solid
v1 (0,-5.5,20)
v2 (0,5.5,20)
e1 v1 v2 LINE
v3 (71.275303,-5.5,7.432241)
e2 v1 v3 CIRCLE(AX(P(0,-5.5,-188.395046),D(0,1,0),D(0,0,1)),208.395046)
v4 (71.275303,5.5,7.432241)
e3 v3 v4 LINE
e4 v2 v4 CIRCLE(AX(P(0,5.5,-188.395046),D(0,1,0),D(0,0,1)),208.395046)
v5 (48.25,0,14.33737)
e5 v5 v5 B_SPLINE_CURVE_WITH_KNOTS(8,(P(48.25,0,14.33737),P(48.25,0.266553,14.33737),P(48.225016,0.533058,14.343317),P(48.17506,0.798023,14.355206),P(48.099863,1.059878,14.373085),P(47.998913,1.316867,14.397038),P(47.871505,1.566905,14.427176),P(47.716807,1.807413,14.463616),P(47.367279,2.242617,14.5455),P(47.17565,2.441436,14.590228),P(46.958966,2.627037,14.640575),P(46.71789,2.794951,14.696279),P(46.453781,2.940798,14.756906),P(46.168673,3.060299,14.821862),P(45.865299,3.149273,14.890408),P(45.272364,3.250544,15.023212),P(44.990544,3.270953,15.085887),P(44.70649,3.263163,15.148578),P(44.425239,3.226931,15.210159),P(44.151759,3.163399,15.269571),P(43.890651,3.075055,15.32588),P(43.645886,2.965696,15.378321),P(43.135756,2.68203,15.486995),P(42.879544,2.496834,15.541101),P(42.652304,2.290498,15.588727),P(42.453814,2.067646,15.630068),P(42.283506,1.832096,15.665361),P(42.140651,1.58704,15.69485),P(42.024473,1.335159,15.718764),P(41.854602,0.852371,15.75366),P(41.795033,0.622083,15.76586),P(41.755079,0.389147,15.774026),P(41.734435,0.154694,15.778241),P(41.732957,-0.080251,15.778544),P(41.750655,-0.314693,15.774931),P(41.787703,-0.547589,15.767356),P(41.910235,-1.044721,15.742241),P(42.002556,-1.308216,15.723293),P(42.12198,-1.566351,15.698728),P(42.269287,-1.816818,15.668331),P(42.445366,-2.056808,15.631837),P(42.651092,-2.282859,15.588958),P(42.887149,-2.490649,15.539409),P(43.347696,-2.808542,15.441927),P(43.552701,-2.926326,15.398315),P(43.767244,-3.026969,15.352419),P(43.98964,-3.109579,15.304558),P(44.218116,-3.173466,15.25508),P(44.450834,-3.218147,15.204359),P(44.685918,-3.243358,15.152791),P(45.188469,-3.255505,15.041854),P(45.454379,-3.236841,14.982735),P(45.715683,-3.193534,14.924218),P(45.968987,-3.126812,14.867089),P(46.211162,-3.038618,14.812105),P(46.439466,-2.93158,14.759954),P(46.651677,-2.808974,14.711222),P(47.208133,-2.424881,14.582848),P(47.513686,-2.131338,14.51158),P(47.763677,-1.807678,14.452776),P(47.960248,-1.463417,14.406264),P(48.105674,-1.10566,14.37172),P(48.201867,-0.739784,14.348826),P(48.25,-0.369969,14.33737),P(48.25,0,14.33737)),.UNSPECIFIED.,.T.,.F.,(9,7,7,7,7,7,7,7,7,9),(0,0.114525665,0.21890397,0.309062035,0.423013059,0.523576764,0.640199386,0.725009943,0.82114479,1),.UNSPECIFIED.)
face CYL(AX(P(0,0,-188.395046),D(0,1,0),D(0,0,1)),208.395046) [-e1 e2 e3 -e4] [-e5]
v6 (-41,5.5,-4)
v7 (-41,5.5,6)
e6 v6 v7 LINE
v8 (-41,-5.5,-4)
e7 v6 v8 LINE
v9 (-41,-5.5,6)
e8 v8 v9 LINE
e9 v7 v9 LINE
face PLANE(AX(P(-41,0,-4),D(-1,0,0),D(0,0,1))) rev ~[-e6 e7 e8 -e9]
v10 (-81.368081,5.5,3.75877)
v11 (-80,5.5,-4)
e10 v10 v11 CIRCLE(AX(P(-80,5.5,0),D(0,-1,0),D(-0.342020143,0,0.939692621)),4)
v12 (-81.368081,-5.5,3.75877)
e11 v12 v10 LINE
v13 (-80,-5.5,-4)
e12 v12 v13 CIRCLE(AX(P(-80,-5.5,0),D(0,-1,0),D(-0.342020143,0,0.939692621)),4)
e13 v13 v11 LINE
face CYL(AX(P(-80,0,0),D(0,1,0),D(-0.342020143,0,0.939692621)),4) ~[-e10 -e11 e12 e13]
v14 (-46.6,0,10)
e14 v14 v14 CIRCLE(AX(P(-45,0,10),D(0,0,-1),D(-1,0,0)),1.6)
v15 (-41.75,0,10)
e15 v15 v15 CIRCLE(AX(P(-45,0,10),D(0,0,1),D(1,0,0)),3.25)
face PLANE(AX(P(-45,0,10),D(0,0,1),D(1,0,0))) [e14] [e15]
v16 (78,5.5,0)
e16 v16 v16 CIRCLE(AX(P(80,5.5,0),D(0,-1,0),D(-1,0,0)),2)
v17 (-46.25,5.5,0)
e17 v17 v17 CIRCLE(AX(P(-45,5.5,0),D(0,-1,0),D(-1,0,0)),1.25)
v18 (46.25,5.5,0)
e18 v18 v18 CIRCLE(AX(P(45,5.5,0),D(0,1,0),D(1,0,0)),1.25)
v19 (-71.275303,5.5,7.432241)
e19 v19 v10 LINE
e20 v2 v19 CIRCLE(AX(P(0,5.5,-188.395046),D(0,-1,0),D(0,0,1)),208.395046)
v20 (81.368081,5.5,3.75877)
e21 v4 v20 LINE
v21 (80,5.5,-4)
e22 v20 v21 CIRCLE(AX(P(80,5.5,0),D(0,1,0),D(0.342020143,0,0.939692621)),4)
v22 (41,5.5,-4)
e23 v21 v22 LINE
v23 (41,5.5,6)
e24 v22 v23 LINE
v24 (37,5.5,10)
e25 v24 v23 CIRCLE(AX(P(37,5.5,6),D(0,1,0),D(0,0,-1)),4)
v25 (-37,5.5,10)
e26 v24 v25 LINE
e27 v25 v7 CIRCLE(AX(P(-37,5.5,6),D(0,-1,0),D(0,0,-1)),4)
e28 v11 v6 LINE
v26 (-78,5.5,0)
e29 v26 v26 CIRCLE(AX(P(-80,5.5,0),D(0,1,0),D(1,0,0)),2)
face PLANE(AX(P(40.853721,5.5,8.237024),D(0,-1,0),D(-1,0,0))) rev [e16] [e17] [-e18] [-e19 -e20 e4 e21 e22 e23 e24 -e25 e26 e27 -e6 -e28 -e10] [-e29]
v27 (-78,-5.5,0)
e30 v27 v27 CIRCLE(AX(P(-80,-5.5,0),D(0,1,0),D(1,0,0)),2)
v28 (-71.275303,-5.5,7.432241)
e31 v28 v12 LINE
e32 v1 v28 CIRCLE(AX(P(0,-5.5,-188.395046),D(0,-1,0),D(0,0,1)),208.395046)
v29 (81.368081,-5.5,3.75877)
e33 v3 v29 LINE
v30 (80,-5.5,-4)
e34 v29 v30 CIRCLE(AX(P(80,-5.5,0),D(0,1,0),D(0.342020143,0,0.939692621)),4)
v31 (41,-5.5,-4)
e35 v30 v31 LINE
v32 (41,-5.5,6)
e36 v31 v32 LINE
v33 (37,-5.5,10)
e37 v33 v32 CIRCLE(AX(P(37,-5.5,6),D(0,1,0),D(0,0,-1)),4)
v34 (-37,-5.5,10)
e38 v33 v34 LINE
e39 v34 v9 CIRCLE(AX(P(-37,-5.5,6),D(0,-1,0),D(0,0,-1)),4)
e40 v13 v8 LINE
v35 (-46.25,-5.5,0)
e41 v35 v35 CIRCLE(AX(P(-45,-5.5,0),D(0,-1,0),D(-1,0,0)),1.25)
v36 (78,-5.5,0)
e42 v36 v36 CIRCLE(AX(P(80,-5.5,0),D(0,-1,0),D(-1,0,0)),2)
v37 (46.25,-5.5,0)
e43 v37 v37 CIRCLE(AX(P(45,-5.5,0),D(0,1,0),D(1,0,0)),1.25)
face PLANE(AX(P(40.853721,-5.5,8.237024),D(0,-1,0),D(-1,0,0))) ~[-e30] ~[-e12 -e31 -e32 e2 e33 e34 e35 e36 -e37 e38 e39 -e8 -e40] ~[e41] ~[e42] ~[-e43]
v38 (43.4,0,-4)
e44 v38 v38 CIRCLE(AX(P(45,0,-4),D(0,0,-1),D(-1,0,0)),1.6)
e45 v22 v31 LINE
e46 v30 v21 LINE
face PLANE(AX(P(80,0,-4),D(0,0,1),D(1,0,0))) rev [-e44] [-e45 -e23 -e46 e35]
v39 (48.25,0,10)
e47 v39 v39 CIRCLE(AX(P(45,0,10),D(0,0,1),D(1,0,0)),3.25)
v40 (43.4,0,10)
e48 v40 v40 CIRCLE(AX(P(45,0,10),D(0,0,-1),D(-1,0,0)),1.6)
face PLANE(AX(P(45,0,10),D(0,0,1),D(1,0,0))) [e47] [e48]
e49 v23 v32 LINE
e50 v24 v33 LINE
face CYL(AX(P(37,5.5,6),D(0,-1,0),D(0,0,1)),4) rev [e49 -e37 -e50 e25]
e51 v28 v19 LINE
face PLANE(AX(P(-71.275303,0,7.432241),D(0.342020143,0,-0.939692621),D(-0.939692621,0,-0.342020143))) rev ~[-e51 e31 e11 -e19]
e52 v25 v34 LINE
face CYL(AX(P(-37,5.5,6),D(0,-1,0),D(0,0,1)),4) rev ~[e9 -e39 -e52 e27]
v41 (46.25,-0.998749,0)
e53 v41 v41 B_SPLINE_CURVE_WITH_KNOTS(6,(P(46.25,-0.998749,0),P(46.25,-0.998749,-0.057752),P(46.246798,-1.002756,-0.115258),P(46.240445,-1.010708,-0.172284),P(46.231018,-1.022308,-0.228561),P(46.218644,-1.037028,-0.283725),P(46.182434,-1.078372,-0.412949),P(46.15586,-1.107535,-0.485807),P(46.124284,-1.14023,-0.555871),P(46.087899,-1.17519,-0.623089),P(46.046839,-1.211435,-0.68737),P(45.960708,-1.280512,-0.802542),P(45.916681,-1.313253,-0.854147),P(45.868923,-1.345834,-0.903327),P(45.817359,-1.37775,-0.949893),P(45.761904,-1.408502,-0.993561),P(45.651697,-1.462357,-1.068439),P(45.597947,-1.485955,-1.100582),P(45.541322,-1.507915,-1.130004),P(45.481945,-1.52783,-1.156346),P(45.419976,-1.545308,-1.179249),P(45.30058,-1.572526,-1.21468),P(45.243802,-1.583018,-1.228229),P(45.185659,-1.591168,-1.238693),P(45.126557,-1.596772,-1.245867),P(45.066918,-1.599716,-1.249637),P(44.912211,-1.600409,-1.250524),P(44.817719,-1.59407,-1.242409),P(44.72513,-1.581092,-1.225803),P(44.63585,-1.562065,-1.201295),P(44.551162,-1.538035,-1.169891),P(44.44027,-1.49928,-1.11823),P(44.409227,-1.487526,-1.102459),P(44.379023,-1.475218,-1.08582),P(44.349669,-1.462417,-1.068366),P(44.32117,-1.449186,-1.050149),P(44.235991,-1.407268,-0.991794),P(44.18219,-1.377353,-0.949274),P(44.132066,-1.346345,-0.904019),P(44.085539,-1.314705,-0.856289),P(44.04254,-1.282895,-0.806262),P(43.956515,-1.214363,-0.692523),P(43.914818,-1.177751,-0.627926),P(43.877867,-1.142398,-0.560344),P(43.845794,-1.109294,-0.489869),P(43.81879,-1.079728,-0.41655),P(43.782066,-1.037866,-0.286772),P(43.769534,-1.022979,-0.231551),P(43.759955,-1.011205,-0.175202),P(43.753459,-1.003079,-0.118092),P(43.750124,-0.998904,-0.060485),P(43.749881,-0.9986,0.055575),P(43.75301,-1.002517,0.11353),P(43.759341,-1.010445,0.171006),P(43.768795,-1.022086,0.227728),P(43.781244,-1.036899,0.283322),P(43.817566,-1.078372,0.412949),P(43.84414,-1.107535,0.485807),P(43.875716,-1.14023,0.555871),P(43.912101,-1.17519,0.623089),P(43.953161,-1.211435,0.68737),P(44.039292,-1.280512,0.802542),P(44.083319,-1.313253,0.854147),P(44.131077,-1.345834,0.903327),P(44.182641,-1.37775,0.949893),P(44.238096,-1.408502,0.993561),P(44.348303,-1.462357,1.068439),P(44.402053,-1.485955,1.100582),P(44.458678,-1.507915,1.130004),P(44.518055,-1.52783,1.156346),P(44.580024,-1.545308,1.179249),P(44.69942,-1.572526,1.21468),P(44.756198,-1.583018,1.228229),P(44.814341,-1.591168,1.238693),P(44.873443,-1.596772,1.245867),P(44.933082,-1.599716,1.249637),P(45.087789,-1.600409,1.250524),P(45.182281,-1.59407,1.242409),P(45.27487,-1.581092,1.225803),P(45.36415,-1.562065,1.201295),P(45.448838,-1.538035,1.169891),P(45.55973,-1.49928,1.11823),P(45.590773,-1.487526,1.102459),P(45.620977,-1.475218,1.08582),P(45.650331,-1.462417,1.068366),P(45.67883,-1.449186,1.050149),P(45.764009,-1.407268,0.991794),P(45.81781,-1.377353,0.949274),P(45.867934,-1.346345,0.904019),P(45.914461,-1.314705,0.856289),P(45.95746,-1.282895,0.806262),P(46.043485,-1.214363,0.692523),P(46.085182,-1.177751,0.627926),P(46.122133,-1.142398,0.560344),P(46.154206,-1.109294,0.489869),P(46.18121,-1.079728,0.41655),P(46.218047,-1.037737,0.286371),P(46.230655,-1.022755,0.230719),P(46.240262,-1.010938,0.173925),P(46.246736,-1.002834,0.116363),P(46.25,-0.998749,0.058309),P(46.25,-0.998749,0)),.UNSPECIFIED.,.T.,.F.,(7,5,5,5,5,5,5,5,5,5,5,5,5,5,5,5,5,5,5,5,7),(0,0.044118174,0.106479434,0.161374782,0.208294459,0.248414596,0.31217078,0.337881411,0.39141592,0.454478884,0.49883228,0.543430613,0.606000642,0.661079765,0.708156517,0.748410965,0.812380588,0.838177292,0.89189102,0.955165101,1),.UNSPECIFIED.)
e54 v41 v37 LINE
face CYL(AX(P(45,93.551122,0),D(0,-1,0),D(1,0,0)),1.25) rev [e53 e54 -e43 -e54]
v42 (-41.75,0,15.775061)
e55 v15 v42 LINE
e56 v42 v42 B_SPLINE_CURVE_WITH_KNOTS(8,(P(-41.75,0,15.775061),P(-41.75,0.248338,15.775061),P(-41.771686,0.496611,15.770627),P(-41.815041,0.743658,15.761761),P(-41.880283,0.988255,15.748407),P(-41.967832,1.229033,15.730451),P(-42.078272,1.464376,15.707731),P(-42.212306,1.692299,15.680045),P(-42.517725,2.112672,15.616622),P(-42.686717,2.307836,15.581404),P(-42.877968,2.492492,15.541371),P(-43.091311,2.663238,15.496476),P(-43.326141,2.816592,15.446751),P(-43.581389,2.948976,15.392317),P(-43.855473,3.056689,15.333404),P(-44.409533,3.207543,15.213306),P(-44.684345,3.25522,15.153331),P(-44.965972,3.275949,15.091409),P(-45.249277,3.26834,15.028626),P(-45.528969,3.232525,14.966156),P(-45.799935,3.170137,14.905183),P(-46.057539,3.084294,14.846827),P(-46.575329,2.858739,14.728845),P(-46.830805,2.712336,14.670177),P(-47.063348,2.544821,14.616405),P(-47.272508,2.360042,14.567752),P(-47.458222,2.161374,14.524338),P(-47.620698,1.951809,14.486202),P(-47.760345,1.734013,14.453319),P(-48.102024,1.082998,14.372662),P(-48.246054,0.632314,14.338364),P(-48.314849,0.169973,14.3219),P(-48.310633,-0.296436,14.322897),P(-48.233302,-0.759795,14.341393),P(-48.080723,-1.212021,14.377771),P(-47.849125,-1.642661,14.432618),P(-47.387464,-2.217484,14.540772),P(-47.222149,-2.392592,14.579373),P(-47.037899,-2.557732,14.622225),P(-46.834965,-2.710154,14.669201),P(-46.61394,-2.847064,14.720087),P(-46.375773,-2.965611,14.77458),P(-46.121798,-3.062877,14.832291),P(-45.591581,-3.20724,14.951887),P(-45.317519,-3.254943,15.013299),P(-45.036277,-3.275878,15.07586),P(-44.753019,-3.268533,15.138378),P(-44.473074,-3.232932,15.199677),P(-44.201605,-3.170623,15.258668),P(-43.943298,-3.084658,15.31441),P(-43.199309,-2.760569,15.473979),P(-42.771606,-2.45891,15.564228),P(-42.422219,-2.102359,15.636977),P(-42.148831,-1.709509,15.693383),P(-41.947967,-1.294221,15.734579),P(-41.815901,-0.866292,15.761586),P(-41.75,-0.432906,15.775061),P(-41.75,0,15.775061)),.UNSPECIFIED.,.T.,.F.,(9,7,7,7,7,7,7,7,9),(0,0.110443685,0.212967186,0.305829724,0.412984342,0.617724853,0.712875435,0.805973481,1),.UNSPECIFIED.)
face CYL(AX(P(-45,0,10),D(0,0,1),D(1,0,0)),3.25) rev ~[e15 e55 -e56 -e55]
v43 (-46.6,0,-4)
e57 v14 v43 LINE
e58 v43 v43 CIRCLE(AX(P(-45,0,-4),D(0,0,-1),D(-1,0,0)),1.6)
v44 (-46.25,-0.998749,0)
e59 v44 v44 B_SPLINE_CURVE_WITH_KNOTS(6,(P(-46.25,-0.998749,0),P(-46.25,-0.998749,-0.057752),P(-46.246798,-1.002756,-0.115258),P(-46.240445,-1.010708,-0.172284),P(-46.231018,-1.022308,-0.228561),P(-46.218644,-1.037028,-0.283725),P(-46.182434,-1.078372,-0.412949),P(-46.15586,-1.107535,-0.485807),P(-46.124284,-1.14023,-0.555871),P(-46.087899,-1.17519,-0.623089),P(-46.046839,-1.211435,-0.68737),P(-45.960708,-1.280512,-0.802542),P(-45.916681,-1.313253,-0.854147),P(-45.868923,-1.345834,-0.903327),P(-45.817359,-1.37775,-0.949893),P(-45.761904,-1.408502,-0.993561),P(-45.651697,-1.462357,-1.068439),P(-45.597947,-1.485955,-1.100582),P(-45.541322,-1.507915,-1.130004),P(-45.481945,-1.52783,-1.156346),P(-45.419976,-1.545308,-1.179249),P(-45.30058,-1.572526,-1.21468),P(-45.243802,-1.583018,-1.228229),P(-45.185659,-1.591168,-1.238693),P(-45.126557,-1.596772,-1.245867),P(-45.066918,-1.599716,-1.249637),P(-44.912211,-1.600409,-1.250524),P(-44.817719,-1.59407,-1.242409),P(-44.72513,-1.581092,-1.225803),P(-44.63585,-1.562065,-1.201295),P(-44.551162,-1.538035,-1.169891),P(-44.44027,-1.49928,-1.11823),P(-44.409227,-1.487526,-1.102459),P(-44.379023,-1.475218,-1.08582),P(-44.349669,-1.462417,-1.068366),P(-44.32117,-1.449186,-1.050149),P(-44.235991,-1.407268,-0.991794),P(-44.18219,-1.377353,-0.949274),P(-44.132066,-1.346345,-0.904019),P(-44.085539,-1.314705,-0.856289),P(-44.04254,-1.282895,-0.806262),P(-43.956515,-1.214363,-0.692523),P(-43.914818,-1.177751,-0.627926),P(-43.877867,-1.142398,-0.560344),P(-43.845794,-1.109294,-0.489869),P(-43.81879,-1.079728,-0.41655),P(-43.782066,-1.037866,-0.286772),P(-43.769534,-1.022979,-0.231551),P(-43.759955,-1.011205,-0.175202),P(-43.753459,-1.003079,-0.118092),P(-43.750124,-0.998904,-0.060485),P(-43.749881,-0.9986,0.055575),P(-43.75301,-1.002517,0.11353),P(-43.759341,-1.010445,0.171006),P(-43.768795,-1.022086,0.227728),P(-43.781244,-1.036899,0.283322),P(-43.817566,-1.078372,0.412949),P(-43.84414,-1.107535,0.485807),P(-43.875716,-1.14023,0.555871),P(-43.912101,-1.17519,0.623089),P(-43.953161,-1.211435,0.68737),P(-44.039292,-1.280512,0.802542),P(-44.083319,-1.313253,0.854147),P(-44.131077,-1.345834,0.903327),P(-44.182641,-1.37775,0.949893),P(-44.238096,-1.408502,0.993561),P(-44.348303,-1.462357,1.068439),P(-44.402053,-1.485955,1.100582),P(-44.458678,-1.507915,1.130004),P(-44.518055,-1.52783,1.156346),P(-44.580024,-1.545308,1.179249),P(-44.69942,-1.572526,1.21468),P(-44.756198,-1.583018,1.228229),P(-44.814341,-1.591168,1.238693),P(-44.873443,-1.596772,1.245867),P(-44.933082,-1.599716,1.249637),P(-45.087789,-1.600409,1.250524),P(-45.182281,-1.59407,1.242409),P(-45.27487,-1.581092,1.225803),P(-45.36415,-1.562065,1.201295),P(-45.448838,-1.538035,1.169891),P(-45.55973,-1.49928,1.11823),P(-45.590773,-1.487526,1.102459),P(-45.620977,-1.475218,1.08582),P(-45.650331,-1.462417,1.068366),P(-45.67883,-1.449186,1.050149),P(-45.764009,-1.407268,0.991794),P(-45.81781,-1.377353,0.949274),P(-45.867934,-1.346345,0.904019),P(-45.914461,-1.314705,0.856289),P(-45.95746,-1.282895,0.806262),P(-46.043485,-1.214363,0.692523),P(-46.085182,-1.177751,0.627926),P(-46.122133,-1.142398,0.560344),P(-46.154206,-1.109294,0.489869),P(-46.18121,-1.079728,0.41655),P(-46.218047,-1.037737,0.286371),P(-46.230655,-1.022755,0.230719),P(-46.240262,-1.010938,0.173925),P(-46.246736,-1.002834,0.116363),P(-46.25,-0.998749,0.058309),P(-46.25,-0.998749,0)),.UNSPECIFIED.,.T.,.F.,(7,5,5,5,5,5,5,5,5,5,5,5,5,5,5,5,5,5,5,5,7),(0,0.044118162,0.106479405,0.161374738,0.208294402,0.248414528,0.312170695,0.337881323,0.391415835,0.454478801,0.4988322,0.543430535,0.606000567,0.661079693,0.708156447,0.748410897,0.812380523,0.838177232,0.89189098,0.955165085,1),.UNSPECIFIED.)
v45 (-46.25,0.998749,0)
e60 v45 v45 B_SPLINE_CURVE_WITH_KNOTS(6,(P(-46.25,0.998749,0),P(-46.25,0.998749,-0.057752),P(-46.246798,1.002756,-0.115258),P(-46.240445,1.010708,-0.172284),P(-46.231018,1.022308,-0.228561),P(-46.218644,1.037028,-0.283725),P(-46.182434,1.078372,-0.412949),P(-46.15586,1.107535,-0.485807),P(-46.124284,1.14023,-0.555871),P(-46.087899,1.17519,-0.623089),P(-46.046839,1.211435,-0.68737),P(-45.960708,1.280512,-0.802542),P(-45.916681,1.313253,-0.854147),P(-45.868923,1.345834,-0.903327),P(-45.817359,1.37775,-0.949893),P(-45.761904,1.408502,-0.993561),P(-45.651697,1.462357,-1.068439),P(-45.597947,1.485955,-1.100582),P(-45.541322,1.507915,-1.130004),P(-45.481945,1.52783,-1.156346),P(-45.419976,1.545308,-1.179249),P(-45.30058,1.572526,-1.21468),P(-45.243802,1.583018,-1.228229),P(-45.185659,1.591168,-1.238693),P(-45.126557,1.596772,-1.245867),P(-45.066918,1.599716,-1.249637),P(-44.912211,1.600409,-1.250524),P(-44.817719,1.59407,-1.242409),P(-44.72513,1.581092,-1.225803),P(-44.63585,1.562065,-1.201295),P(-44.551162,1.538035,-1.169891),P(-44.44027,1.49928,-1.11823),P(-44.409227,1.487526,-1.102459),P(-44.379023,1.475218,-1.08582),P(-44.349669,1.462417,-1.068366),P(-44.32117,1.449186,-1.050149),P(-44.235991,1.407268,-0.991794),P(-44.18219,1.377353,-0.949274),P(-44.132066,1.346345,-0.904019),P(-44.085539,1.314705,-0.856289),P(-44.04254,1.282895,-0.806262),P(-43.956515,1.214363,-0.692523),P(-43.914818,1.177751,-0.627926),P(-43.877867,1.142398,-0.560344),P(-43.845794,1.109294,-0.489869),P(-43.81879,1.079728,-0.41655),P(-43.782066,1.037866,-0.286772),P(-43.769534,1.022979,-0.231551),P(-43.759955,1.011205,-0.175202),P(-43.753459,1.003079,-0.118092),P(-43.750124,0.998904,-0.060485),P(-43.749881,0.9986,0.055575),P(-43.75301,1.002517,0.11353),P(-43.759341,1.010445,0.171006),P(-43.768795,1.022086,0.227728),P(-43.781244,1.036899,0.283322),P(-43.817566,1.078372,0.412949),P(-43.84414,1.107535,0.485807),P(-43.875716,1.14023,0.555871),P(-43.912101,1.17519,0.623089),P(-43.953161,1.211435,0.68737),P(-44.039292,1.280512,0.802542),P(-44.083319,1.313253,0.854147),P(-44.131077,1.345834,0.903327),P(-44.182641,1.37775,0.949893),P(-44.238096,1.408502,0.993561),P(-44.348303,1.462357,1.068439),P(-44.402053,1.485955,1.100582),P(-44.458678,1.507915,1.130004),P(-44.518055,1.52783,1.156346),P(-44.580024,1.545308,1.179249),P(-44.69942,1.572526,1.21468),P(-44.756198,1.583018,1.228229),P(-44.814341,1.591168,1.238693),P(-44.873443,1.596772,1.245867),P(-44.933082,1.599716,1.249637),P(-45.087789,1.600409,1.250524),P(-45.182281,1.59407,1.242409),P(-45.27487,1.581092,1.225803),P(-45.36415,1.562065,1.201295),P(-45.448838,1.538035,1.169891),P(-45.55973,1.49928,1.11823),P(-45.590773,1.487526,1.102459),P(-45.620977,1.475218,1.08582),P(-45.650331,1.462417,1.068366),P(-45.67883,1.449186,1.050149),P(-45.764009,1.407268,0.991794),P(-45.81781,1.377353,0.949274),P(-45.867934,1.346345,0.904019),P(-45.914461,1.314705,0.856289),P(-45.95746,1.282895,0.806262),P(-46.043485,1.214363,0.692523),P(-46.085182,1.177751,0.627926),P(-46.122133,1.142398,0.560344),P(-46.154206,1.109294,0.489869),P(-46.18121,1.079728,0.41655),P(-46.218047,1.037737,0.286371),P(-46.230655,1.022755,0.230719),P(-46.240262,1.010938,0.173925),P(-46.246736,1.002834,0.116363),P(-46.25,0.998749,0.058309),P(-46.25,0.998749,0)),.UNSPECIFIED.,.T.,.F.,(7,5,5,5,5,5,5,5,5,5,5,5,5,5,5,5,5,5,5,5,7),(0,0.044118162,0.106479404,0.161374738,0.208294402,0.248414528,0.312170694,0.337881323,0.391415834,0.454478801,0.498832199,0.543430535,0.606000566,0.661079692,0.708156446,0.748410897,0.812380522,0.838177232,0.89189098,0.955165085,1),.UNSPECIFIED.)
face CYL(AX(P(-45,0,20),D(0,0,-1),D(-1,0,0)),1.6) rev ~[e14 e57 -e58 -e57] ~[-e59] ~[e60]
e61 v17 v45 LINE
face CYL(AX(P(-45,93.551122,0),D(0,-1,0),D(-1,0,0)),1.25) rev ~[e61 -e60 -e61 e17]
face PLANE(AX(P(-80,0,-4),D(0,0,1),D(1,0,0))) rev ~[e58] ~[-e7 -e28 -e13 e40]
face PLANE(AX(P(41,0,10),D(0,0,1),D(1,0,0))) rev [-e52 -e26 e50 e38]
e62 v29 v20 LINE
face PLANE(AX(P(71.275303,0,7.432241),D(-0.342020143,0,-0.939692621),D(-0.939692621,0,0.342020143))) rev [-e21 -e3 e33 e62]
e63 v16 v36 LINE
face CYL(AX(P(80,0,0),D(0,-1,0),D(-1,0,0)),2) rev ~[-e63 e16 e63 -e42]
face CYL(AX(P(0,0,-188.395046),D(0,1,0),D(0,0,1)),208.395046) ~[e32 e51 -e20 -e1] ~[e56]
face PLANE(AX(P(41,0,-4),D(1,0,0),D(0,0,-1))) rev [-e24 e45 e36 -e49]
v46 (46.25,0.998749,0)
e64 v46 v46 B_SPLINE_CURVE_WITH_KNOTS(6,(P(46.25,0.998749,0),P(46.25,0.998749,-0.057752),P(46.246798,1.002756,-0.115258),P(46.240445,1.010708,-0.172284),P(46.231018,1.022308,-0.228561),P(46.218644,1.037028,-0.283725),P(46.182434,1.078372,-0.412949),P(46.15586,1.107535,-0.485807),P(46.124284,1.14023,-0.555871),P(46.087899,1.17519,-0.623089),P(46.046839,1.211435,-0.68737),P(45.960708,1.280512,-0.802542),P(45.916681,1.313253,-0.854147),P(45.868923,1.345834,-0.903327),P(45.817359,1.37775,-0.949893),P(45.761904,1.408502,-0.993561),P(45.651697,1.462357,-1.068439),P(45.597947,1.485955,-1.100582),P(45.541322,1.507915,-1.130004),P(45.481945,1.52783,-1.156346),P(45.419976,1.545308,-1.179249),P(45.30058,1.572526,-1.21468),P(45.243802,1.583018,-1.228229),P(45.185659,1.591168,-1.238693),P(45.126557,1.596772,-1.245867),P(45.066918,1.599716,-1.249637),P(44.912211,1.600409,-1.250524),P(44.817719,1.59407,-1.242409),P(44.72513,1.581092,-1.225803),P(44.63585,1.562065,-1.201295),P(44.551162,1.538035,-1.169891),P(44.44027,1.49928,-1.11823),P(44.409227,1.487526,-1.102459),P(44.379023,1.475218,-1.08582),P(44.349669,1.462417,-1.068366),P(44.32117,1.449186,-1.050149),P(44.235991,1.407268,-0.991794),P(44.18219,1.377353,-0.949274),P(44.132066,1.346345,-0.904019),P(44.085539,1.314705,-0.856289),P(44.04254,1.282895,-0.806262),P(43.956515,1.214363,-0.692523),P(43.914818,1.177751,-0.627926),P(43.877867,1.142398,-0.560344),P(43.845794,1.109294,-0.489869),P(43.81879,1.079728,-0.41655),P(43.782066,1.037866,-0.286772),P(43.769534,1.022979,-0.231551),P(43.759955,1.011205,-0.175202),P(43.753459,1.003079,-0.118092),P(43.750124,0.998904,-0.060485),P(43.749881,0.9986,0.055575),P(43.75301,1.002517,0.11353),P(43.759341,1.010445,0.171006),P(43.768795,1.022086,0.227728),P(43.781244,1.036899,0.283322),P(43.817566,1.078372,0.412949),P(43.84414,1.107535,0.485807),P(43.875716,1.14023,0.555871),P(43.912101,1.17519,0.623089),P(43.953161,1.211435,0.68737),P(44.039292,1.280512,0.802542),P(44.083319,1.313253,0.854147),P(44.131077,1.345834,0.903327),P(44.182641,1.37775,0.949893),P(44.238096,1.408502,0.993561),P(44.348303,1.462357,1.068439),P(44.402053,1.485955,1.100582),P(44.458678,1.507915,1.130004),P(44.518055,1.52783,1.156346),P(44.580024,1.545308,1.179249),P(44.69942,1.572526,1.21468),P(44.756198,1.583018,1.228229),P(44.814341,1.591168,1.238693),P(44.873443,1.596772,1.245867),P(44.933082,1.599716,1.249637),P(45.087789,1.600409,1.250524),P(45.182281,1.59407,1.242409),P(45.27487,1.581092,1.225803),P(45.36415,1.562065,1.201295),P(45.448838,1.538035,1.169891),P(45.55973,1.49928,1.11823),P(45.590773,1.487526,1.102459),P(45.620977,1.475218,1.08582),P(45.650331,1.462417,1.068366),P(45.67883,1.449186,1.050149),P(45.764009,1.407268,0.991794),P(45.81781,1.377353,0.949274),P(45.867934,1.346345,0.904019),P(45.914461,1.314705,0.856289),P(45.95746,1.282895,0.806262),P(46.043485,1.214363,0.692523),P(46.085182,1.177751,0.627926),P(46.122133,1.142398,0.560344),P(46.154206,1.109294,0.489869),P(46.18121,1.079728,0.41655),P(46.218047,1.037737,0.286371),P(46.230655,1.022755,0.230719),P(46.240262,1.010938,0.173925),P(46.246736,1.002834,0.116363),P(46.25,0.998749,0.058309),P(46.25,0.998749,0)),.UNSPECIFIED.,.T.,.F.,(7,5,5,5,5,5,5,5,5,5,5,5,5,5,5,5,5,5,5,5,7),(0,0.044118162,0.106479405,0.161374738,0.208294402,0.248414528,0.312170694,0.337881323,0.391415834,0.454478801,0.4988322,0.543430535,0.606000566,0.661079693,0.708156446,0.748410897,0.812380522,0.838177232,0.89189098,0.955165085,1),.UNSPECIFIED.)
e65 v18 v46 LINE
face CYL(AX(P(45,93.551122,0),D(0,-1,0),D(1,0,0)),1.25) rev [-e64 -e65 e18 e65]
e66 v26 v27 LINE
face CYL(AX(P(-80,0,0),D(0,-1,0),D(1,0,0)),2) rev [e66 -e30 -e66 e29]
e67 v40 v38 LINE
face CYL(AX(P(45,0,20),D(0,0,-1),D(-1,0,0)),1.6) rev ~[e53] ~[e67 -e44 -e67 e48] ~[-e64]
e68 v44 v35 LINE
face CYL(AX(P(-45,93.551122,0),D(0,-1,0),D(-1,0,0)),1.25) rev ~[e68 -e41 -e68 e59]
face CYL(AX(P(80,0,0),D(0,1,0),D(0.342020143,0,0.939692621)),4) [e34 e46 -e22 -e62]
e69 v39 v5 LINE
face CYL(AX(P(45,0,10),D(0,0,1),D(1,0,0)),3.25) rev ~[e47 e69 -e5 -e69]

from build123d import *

# Parameters (mm, degrees)
SKIZZE1_R                                            = 2
AUFSATZ_LINEAR_AUSTRAGEN1_DEPTH                      = 5.5
VERRUNDUNG1_R                                        = 4
M3_GEWINDEBOHRUNG1_D                                 = 2.5
STIRNSENKUNG_F_R_M3_ZYLINDERSCHRAUBE_MIT_D           = 3.2
STIRNSENKUNG_F_R_M3_ZYLINDERSCHRAUBE_MIT_CBORE_D     = 6.5
STIRNSENKUNG_F_R_M3_ZYLINDERSCHRAUBE_MIT_CBORE_DEPTH = 10


with BuildPart() as part:
    # Skizze1 → Aufsatz-Linear austragen1 (new body, symmetric)
    with BuildSketch(Plane(origin=(0, 0, 0), x_dir=(1, 0, 0), z_dir=(0, 1, 0))):
        with BuildLine():
            Line((-80, 4), (-45, 4))
            Line((-45, 4), (-41, 4))
            Line((-41, 4), (-41, -10))
            Line((-41, -10), (0, -10))
            Line((0, -10), (0, -20))
            ThreePointArc((0, -20), (-36.187419929, -16.834010994), (-71.275303416, -7.43224095))
            Line((-71.275303416, -7.43224095), (-81.368080573, -3.758770483))
            ThreePointArc((-81.368080573, -3.758770483), (-83.939231012, 0.694592711), (-80, 4))
        make_face()
        with Locations((-80, 0)):
            Circle(SKIZZE1_R, mode=Mode.SUBTRACT)
    extrude(amount=AUFSATZ_LINEAR_AUSTRAGEN1_DEPTH, both=True)

    # Verrundung1
    verrundung1_edges = [part.edges().sort_by_distance(p)[0] for p in [
        (-41, 0, 10),
    ]]
    fillet(verrundung1_edges, radius=VERRUNDUNG1_R)

    # M3 Gewindebohrung1 (through all)
    with Locations(Plane(origin=(0, 5.5, 0), x_dir=(1, 0, 0), z_dir=(0, 1, 0))):
        with Locations((-45, 0)):
            Hole(M3_GEWINDEBOHRUNG1_D / 2)

    # Spiegeln3: part across plane


with BuildPart() as part_1:
    add(part.part)
    add(part.part.mirror(Plane(origin=(0, 0, 0), x_dir=(0, 0, 1), z_dir=(1, 0, 0))))

    # Stirnsenkung für  M3 Zylinderschraube mit Schlitz/Kreuzschlitz1 (through all)
    with Locations(Plane.XY.offset(20)):
        with Locations((-45, 0), (45, 0)):
            CounterBoreHole(STIRNSENKUNG_F_R_M3_ZYLINDERSCHRAUBE_MIT_D / 2, STIRNSENKUNG_F_R_M3_ZYLINDERSCHRAUBE_MIT_CBORE_D / 2, STIRNSENKUNG_F_R_M3_ZYLINDERSCHRAUBE_MIT_CBORE_DEPTH)


solid = part_1.part
